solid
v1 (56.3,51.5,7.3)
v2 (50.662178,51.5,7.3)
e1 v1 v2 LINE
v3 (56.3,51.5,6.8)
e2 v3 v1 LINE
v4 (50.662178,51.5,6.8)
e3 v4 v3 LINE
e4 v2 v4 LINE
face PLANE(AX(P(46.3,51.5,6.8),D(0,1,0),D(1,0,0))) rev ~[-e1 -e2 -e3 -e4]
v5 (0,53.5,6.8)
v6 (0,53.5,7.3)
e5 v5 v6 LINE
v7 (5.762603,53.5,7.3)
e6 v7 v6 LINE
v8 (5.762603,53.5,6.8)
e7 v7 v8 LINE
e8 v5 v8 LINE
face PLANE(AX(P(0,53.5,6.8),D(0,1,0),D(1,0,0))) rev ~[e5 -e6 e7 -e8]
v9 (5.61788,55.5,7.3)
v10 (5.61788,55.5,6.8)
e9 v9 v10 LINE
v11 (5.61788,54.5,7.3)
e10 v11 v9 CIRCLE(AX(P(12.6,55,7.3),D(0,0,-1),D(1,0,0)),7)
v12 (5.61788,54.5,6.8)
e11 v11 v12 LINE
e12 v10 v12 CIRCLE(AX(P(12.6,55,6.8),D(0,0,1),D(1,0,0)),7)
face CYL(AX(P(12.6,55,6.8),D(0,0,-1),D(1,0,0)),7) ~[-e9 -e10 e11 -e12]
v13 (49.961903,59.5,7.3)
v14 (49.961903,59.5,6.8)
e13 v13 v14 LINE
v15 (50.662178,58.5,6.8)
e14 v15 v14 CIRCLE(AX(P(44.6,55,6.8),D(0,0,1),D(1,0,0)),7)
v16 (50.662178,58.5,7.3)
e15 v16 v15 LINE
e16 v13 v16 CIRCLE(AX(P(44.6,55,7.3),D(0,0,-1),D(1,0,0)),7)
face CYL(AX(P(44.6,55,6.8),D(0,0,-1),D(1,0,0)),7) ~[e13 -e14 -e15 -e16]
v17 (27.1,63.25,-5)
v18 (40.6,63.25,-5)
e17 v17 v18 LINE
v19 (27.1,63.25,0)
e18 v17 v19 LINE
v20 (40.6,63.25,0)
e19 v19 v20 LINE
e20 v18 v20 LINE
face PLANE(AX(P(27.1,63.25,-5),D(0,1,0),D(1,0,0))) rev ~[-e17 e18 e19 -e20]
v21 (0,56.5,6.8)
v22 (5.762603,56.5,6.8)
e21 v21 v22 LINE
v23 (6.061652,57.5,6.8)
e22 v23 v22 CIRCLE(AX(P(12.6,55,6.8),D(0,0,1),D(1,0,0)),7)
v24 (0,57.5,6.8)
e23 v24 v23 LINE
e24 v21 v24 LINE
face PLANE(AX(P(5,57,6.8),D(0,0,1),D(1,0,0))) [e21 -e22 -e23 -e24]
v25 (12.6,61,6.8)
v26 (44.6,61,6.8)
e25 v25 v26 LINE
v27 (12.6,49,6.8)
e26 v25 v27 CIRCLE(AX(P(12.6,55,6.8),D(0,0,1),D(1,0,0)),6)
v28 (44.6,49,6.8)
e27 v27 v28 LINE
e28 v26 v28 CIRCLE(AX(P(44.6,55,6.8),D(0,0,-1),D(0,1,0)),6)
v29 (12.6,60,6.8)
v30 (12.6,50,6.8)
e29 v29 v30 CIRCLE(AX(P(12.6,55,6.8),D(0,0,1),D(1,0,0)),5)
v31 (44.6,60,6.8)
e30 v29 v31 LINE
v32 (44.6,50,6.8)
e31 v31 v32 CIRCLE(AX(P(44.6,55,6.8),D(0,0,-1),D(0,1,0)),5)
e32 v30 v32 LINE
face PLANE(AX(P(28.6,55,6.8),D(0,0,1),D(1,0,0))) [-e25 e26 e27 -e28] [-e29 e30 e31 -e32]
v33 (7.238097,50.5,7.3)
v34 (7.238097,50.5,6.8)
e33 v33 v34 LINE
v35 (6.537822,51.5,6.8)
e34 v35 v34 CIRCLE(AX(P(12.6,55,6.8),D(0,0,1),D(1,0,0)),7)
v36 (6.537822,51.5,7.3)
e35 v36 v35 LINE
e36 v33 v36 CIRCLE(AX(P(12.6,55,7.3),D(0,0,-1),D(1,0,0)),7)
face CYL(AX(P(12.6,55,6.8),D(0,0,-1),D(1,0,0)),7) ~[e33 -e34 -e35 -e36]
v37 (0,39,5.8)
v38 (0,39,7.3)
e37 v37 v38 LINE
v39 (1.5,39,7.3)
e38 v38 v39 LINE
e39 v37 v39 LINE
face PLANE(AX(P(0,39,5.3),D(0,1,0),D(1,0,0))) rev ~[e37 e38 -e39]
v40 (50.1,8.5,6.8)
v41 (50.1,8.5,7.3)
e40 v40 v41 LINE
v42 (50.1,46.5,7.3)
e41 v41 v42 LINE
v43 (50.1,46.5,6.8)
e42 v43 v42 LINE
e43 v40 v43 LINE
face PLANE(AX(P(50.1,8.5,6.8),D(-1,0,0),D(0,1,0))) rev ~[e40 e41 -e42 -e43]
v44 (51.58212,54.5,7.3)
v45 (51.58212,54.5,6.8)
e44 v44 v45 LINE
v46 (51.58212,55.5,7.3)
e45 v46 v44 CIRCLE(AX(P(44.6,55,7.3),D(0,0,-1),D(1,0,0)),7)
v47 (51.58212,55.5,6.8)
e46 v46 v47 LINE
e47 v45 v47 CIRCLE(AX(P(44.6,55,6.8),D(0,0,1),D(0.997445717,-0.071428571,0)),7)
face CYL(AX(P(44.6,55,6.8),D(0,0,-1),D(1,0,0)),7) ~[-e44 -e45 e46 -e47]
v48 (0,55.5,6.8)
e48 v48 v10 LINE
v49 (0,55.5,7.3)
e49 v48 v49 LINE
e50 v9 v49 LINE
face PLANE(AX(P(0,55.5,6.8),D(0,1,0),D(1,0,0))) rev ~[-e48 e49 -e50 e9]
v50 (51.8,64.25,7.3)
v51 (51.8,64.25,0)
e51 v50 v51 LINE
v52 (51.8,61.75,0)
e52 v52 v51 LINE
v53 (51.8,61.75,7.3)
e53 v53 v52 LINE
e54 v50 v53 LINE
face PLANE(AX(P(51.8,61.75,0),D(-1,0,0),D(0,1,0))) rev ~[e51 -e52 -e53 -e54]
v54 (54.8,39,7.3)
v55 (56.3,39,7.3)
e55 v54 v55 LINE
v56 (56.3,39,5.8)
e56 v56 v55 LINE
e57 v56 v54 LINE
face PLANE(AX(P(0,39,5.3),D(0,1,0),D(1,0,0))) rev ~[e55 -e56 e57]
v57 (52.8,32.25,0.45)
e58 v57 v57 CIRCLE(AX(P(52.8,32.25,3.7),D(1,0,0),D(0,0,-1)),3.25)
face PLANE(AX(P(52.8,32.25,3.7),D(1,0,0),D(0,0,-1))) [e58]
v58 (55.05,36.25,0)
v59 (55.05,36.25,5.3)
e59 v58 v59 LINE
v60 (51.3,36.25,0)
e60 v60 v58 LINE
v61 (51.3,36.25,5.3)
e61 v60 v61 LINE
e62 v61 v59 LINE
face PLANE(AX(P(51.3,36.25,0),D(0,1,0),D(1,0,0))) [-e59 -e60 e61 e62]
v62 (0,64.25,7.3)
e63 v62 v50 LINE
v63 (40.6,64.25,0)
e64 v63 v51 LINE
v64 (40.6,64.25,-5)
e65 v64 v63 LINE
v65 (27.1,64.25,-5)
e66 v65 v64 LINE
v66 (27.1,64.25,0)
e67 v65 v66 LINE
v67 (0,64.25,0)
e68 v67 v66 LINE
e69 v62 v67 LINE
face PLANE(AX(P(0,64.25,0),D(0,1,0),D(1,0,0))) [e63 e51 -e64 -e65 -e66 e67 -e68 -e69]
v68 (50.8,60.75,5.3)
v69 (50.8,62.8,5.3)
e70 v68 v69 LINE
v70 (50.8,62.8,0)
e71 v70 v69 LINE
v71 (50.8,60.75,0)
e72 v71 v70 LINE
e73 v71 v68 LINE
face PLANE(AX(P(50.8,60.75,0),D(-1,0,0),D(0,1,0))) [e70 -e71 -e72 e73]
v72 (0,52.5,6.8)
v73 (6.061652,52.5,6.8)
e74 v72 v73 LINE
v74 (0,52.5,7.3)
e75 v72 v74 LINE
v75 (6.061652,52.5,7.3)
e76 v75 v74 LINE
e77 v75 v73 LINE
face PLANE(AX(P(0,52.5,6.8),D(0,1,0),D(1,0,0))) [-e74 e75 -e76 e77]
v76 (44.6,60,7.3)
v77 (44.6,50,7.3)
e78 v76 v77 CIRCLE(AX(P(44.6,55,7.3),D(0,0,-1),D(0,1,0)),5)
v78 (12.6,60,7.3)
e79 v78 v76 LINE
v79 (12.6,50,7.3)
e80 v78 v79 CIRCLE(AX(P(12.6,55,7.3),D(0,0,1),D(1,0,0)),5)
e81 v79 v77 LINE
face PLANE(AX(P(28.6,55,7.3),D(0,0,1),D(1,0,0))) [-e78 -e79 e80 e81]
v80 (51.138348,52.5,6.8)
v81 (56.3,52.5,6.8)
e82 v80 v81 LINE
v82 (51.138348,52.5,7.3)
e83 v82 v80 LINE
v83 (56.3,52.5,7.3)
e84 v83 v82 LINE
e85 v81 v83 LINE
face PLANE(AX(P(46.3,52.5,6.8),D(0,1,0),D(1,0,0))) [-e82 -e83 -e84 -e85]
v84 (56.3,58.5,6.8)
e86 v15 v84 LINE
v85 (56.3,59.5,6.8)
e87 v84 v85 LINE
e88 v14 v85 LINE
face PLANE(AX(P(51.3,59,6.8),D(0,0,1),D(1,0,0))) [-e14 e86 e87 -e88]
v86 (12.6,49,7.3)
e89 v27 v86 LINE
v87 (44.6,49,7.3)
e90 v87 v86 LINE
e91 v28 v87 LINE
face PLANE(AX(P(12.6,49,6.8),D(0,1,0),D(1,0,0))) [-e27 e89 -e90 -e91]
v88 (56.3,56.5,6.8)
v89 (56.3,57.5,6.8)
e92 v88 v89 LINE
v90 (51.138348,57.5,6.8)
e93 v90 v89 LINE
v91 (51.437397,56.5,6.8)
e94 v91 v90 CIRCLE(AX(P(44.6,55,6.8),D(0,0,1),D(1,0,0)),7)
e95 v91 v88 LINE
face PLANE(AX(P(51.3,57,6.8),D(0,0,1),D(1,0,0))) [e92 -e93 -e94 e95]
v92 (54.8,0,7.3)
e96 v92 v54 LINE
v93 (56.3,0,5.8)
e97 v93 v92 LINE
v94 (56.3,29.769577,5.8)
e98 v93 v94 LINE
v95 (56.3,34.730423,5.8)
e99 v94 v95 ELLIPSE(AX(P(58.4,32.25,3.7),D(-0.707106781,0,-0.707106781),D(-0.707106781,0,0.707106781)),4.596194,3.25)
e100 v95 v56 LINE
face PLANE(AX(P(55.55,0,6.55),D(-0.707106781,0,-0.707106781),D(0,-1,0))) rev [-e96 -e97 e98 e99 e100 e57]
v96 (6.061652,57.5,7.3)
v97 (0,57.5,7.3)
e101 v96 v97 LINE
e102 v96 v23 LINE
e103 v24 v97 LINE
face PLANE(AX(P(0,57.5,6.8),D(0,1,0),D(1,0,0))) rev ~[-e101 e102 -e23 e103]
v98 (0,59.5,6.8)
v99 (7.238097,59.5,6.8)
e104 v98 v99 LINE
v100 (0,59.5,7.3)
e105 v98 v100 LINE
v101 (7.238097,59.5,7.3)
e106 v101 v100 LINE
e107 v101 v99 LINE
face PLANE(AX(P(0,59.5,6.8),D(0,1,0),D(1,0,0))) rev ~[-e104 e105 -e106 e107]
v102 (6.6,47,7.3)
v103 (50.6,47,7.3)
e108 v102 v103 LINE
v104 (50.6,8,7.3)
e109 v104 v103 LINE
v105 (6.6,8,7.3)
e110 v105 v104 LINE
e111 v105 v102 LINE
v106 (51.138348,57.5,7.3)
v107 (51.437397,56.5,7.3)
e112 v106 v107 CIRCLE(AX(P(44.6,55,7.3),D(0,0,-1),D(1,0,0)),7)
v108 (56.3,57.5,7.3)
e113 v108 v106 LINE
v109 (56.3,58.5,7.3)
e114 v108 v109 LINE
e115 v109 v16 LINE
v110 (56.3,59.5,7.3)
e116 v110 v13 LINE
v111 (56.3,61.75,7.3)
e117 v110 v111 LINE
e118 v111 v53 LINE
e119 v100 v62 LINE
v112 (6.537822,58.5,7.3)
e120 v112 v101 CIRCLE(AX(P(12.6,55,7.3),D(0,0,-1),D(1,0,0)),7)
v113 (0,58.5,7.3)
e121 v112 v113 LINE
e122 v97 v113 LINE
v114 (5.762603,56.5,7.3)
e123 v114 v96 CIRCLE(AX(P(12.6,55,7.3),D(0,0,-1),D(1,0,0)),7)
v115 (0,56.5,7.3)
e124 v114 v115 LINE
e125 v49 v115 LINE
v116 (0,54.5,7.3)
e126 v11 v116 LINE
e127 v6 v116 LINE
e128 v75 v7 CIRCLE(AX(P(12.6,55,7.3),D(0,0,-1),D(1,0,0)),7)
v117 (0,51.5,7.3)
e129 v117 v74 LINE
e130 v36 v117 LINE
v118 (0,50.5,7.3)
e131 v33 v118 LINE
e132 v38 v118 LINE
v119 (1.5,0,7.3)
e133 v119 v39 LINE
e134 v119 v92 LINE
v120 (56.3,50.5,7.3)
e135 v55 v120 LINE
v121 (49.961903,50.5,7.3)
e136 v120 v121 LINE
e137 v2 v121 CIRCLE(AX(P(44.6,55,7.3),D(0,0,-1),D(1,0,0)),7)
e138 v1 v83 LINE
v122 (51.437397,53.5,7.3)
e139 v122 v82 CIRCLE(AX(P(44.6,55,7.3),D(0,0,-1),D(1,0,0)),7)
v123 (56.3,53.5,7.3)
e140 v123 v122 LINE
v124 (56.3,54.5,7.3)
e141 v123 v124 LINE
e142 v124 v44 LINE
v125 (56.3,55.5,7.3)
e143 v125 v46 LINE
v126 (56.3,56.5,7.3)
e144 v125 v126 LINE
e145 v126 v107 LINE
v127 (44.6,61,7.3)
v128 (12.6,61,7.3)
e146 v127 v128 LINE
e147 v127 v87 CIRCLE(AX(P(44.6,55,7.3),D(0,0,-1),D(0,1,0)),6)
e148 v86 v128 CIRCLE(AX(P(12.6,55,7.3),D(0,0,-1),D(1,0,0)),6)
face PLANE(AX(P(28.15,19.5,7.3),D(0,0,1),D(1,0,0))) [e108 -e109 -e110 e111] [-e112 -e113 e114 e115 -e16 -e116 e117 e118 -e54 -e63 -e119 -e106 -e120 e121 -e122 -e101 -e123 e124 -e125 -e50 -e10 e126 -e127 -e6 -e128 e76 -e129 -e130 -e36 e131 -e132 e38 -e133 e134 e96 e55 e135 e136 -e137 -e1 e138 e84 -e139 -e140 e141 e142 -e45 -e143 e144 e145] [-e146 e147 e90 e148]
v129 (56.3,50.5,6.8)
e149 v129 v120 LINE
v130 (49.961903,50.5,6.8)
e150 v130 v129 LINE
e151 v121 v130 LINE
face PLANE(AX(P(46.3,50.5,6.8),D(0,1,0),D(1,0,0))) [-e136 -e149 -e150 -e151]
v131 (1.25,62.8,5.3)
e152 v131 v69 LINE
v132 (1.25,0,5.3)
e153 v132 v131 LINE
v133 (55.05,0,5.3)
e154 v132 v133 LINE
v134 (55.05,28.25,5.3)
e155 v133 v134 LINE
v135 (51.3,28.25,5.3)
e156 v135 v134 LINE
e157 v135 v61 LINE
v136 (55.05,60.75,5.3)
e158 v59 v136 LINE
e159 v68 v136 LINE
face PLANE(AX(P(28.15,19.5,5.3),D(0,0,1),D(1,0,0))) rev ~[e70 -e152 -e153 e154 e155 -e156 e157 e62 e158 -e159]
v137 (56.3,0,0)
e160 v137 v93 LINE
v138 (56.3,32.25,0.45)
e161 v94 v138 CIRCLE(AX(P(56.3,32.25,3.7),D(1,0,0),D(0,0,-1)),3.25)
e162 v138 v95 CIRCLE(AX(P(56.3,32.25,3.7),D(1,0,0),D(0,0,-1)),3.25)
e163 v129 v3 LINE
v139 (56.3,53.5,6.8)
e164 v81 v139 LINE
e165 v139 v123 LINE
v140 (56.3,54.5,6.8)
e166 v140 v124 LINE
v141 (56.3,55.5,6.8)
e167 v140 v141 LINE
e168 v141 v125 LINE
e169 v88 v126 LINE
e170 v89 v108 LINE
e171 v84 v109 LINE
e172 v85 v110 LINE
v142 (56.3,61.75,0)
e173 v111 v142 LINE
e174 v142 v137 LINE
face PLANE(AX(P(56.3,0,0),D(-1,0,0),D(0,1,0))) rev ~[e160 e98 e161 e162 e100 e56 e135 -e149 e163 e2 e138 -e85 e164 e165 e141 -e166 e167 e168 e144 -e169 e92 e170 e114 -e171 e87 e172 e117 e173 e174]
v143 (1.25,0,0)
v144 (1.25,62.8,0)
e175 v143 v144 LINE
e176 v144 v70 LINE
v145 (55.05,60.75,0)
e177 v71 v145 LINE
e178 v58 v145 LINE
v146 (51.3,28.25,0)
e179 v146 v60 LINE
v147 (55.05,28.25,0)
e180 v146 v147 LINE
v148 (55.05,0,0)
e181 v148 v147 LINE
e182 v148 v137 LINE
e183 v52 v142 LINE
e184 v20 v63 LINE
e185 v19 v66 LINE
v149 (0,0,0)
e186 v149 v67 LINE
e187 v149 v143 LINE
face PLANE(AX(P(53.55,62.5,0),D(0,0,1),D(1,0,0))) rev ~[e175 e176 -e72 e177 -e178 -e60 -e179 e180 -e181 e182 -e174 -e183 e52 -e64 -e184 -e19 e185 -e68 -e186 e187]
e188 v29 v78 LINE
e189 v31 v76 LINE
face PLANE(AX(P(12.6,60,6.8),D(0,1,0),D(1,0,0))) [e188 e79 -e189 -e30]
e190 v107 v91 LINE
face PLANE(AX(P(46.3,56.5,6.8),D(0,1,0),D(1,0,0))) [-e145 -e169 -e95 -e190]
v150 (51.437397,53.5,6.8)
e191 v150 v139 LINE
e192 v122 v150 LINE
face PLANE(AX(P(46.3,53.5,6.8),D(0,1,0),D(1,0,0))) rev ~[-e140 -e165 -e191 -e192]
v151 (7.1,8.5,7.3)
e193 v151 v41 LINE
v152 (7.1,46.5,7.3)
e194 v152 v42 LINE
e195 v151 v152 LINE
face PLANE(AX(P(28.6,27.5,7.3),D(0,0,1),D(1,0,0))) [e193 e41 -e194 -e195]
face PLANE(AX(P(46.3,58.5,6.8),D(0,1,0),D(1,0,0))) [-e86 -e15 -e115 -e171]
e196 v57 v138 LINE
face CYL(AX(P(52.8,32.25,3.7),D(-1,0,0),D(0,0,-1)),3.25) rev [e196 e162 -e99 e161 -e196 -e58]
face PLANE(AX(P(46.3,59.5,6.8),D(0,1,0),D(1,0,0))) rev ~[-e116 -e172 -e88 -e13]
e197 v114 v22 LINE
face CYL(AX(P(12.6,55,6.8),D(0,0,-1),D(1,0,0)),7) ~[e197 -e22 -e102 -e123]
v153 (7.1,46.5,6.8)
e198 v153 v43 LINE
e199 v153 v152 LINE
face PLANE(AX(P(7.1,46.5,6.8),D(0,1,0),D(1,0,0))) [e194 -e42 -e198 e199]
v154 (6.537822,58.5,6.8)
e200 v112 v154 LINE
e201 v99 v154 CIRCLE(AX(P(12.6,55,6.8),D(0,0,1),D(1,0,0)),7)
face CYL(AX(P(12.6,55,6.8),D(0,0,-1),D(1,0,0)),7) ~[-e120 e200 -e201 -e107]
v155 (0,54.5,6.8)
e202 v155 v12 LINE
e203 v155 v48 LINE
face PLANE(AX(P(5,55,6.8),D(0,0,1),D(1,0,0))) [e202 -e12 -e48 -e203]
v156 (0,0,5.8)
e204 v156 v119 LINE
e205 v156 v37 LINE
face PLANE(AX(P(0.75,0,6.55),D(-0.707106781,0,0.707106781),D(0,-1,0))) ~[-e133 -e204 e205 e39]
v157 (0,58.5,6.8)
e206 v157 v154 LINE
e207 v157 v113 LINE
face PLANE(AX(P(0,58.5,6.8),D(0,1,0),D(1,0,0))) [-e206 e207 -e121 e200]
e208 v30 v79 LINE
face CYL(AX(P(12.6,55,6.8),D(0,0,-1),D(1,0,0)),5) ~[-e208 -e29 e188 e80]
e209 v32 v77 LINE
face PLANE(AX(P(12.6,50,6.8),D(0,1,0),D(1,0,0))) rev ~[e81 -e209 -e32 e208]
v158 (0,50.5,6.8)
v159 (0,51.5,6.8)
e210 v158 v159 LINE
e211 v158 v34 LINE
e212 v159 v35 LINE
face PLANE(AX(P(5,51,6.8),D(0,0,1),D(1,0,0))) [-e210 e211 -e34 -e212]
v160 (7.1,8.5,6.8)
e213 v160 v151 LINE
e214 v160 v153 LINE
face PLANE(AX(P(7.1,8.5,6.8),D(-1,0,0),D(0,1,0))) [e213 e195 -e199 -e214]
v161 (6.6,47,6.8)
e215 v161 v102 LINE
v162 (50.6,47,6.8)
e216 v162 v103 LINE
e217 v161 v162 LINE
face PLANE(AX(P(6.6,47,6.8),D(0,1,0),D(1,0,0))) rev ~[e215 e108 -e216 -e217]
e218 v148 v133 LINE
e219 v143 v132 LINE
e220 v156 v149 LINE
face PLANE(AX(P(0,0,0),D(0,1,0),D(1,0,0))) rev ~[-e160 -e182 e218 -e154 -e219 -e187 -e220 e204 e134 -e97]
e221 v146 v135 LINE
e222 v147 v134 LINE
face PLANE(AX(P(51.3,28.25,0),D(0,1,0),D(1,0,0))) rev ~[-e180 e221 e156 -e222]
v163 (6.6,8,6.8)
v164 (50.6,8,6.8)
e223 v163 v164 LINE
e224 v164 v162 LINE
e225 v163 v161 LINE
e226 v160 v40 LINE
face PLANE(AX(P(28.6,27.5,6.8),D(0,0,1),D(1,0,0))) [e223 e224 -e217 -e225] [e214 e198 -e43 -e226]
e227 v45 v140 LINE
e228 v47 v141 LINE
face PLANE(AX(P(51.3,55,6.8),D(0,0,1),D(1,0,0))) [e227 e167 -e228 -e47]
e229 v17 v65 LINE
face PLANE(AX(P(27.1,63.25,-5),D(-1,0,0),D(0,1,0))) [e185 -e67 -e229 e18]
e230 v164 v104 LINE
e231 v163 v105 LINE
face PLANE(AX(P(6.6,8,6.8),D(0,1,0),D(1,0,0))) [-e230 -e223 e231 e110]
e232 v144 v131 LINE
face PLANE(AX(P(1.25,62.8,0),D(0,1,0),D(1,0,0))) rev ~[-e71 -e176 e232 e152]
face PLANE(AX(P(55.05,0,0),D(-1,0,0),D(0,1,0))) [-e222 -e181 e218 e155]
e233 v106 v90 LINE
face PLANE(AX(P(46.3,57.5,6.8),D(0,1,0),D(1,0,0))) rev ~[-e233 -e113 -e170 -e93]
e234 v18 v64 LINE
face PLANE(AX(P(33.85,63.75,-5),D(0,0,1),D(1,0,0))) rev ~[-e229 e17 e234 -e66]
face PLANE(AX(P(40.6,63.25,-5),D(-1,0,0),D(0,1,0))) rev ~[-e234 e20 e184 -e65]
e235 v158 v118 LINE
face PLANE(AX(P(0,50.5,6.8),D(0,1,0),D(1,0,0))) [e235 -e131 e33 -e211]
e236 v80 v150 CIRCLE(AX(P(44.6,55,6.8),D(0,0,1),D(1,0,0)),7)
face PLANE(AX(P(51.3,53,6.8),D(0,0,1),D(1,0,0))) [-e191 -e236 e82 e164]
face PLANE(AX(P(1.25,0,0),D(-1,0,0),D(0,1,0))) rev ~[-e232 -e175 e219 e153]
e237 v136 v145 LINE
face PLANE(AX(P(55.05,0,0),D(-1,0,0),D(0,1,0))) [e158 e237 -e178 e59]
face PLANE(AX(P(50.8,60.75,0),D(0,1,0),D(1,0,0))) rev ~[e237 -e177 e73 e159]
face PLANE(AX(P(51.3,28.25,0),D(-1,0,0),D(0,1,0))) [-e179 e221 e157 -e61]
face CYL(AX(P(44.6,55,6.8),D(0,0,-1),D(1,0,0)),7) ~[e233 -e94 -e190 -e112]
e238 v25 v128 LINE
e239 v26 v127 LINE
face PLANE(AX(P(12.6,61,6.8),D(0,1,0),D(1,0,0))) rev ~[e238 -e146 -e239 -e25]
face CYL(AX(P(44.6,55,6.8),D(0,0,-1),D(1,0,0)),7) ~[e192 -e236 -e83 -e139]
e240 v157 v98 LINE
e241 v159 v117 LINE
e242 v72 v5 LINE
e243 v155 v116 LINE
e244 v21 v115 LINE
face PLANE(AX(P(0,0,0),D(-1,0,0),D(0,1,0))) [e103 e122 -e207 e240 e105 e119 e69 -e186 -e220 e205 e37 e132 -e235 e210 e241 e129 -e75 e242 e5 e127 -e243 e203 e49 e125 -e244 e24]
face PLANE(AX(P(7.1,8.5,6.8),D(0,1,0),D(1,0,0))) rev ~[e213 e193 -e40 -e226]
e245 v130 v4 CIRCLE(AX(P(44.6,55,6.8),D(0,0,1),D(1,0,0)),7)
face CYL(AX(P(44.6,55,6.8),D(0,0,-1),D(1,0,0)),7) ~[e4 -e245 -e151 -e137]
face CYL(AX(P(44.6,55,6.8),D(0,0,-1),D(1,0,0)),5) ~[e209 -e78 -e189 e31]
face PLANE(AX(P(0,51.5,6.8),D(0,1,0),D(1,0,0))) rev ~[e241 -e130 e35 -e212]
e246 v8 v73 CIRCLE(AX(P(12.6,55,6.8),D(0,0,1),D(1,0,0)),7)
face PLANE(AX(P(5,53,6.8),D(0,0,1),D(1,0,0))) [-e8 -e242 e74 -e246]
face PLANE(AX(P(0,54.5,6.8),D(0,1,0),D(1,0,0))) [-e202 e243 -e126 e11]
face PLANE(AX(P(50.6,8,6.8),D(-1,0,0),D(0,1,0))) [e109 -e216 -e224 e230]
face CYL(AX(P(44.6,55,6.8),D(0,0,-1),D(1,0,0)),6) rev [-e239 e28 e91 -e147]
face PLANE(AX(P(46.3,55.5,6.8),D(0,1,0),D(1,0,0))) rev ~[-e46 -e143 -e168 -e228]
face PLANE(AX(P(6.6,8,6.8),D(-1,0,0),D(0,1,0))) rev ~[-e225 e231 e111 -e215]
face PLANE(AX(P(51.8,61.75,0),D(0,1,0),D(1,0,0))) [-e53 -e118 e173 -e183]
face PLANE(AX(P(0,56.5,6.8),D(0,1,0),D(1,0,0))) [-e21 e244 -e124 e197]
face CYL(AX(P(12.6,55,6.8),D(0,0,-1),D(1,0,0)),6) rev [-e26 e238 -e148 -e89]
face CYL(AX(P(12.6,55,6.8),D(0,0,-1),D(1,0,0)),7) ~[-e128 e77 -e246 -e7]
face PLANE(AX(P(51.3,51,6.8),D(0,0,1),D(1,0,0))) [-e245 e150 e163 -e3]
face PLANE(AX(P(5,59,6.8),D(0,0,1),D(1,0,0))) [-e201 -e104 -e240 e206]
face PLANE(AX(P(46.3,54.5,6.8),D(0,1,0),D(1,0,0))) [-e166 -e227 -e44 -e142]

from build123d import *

# Parameters (mm, degrees)
CYLINDER_R        = 3.25
CYLINDER_DEPTH    = 3.5
BOX017_W          = 43
BOX017_H          = 38
BOX017_DEPTH      = 0.5
BOX057_W          = 4
BOX057_H          = 8
BOX057_DEPTH      = 5.3
BOX001_W          = 4.5
BOX001_H          = 2.5
BOX001_DEPTH      = 5.3
BOX003_W          = 5.5
BOX003_H          = 3.5
BOX003_DEPTH      = 5.3
BOX002_W          = 53.8
BOX002_H          = 62.8
BOX002_DEPTH      = 5.3
BOX_W             = 56.3
BOX_H             = 64.25
BOX_DEPTH         = 5.3
BOX056_W          = 13.5
BOX056_H          = 1
BOX056_DEPTH      = 5
BOX041_W          = 44
BOX041_H          = 39
BOX041_DEPTH      = 0.5
BOX008_W          = 56.3
BOX008_H          = 39
BOX008_DEPTH      = 2
CHAMFER_SIZE      = 1.5
CYLINDER011_R     = 5
CYLINDER011_DEPTH = 0.5
BOX055_W          = 32
BOX055_H          = 10
BOX055_DEPTH      = 0.5
CYLINDER010_R     = 5
CYLINDER010_DEPTH = 0.5
BOX044_W          = 32
BOX044_H          = 12
BOX044_DEPTH      = 1
CYLINDER007_R     = 6
CYLINDER007_DEPTH = 1
CYLINDER006_R     = 6
CYLINDER006_DEPTH = 1
CYLINDER008_R     = 7
CYLINDER008_DEPTH = 1
BOX047_W          = 10
BOX047_H          = 1
BOX047_DEPTH      = 1
BOX049_W          = 10
BOX049_H          = 1
BOX049_DEPTH      = 1
BOX048_W          = 10
BOX048_H          = 1
BOX048_DEPTH      = 1
BOX046_W          = 10
BOX046_H          = 1
BOX046_DEPTH      = 1
BOX045_W          = 10
BOX045_H          = 1
BOX045_DEPTH      = 1
CYLINDER009_R     = 7
CYLINDER009_DEPTH = 1
BOX051_W          = 10
BOX051_H          = 1
BOX051_DEPTH      = 1
BOX054_W          = 10
BOX054_H          = 1
BOX054_DEPTH      = 1
BOX053_W          = 10
BOX053_H          = 1
BOX053_DEPTH      = 1
BOX052_W          = 10
BOX052_H          = 1
BOX052_DEPTH      = 1
BOX050_W          = 10
BOX050_H          = 1
BOX050_DEPTH      = 1
BOX010_W          = 10
BOX010_H          = 10
BOX010_DEPTH      = 10
BOX007_W          = 56.3
BOX007_H          = 25.25
BOX007_DEPTH      = 2


with BuildPart() as cylinder_magnet:
    # Cylinder → Cylinder (new body)
    with BuildSketch(Plane(origin=(52.8, 32.25, 3.7), x_dir=(0, 0, -1), z_dir=(1, 0, 0))):
        Circle(CYLINDER_R)
    extrude(amount=CYLINDER_DEPTH)


with BuildPart() as cube_game_lable_inner:
    # Box017 → Box017 (new body)
    with BuildSketch(Plane(origin=(7.1, 8.5, 6.8), x_dir=(1, 0, 0), z_dir=(0, 0, 1))):
        with Locations((21.5, 19)):
            Rectangle(BOX017_W, BOX017_H)
    extrude(amount=BOX017_DEPTH)


with BuildPart() as cube_magnet_black:
    # Box057 → Box057 (new body)
    with BuildSketch(Plane(origin=(51.3, 28.25, 0), x_dir=(1, 0, 0), z_dir=(0, 0, 1))):
        with Locations((2, 4)):
            Rectangle(BOX057_W, BOX057_H)
    extrude(amount=BOX057_DEPTH)


with BuildPart() as cube_corner_inner:
    # Box001 → Box001 (new body)
    with BuildSketch(Plane(origin=(51.8, 61.75, 0), x_dir=(1, 0, 0), z_dir=(0, 0, 1))):
        with Locations((2.25, 1.25)):
            Rectangle(BOX001_W, BOX001_H)
    extrude(amount=BOX001_DEPTH)


with BuildPart() as cube_corner_outer:
    # Box003 → Box003 (new body)
    with BuildSketch(Plane(origin=(50.8, 60.75, 0), x_dir=(1, 0, 0), z_dir=(0, 0, 1))):
        with Locations((2.75, 1.75)):
            Rectangle(BOX003_W, BOX003_H)
    extrude(amount=BOX003_DEPTH)


with BuildPart() as cube_inner_base:
    # Box002 → Box002 (new body)
    with BuildSketch(Plane(origin=(1.25, 0, 0), x_dir=(1, 0, 0), z_dir=(0, 0, 1))):
        with Locations((26.9, 31.4)):
            Rectangle(BOX002_W, BOX002_H)
    extrude(amount=BOX002_DEPTH)


with BuildPart() as cut024:
    # Box → Box (new body)
    with BuildSketch(Plane.XY):
        with Locations((28.15, 32.125)):
            Rectangle(BOX_W, BOX_H)
    extrude(amount=BOX_DEPTH)

    # Cut: cut Cube(inner_base)
    add(cube_inner_base.part, mode=Mode.SUBTRACT)

    # Fusion: union Cube(corner_outer)
    add(cube_corner_outer.part)

    # Cut024: cut Cube(corner_inner)
    add(cube_corner_inner.part, mode=Mode.SUBTRACT)


with BuildPart() as cube_sd_card_cover:
    # Box056 → Box056 (new body)
    with BuildSketch(Plane(origin=(27.1, 63.25, -5), x_dir=(1, 0, 0), z_dir=(0, 0, 1))):
        with Locations((6.75, 0.5)):
            Rectangle(BOX056_W, BOX056_H)
    extrude(amount=BOX056_DEPTH)


with BuildPart() as cube_game_lable_outer:
    # Box041 → Box041 (new body)
    with BuildSketch(Plane(origin=(6.6, 8, 6.8), x_dir=(1, 0, 0), z_dir=(0, 0, 1))):
        with Locations((22, 19.5)):
            Rectangle(BOX041_W, BOX041_H)
    extrude(amount=BOX041_DEPTH)


with BuildPart() as chamfer_body:
    # Box008 → Box008 (new body)
    with BuildSketch(Plane.XY.offset(5.3)):
        with Locations((28.15, 19.5)):
            Rectangle(BOX008_W, BOX008_H)
    extrude(amount=BOX008_DEPTH)

    # Chamfer
    chamfer_edges = [chamfer_body.edges().sort_by_distance(p)[0] for p in [
        (0, 19.5, 7.3),
        (56.3, 19.5, 7.3),
    ]]
    chamfer(chamfer_edges, length=CHAMFER_SIZE)


with BuildPart() as cylinder002_right_nintendo_inner:
    # Cylinder011 → Cylinder011 (new body)
    with BuildSketch(Plane(origin=(44.6, 55, 6.8), x_dir=(1, 0, 0), z_dir=(0, 0, 1))):
        Circle(CYLINDER011_R)
    extrude(amount=CYLINDER011_DEPTH)


with BuildPart() as cube_middle_nintendo_inner:
    # Box055 → Box055 (new body)
    with BuildSketch(Plane(origin=(12.6, 50, 6.8), x_dir=(1, 0, 0), z_dir=(0, 0, 1))):
        with Locations((16, 5)):
            Rectangle(BOX055_W, BOX055_H)
    extrude(amount=BOX055_DEPTH)


with BuildPart() as fusion033:
    # Cylinder010 → Cylinder010 (new body)
    with BuildSketch(Plane(origin=(12.6, 55, 6.8), x_dir=(1, 0, 0), z_dir=(0, 0, 1))):
        Circle(CYLINDER010_R)
    extrude(amount=CYLINDER010_DEPTH)

    # Fusion033: union Cylinder002(right_nintendo_inner), Cube(middle_nintendo_inner)
    add(cylinder002_right_nintendo_inner.part)
    add(cube_middle_nintendo_inner.part)


with BuildPart() as cube_middle_nintendo_outer:
    # Box044 → Box044 (new body)
    with BuildSketch(Plane(origin=(12.6, 49, 6.8), x_dir=(1, 0, 0), z_dir=(0, 0, 1))):
        with Locations((16, 6)):
            Rectangle(BOX044_W, BOX044_H)
    extrude(amount=BOX044_DEPTH)


with BuildPart() as cylinder002_right_nintendo_outer:
    # Cylinder007 → Cylinder007 (new body)
    with BuildSketch(Plane(origin=(44.6, 55, 6.8), x_dir=(1, 0, 0), z_dir=(0, 0, 1))):
        Circle(CYLINDER007_R)
    extrude(amount=CYLINDER007_DEPTH)


with BuildPart() as cylinder001_left_nintendo_outer:
    # Cylinder006 → Cylinder006 (new body)
    with BuildSketch(Plane(origin=(12.6, 55, 6.8), x_dir=(1, 0, 0), z_dir=(0, 0, 1))):
        Circle(CYLINDER006_R)
    extrude(amount=CYLINDER006_DEPTH)


with BuildPart() as cylinder001_left_nintendo_fin_cut:
    # Cylinder008 → Cylinder008 (new body)
    with BuildSketch(Plane(origin=(12.6, 55, 6.8), x_dir=(1, 0, 0), z_dir=(0, 0, 1))):
        Circle(CYLINDER008_R)
    extrude(amount=CYLINDER008_DEPTH)


with BuildPart() as box047:
    # Box047 → Box047 (new body)
    with BuildSketch(Plane(origin=(0, 54.5, 6.8), x_dir=(1, 0, 0), z_dir=(0, 0, 1))):
        with Locations((5, 0.5)):
            Rectangle(BOX047_W, BOX047_H)
    extrude(amount=BOX047_DEPTH)


with BuildPart() as box049:
    # Box049 → Box049 (new body)
    with BuildSketch(Plane(origin=(0, 58.5, 6.8), x_dir=(1, 0, 0), z_dir=(0, 0, 1))):
        with Locations((5, 0.5)):
            Rectangle(BOX049_W, BOX049_H)
    extrude(amount=BOX049_DEPTH)


with BuildPart() as box048:
    # Box048 → Box048 (new body)
    with BuildSketch(Plane(origin=(0, 56.5, 6.8), x_dir=(1, 0, 0), z_dir=(0, 0, 1))):
        with Locations((5, 0.5)):
            Rectangle(BOX048_W, BOX048_H)
    extrude(amount=BOX048_DEPTH)


with BuildPart() as box046:
    # Box046 → Box046 (new body)
    with BuildSketch(Plane(origin=(0, 52.5, 6.8), x_dir=(1, 0, 0), z_dir=(0, 0, 1))):
        with Locations((5, 0.5)):
            Rectangle(BOX046_W, BOX046_H)
    extrude(amount=BOX046_DEPTH)


with BuildPart() as cut009:
    # Box045 → Box045 (new body)
    with BuildSketch(Plane(origin=(0, 50.5, 6.8), x_dir=(1, 0, 0), z_dir=(0, 0, 1))):
        with Locations((5, 0.5)):
            Rectangle(BOX045_W, BOX045_H)
    extrude(amount=BOX045_DEPTH)

    # Fusion004: union Box047, Box049, Box048, Box046
    add(box047.part)
    add(box049.part)
    add(box048.part)
    add(box046.part)

    # Cut009: cut Cylinder001(left_nintendo_fin_cut)
    add(cylinder001_left_nintendo_fin_cut.part, mode=Mode.SUBTRACT)


with BuildPart() as cylinder002_right_nintendo_fin_cut:
    # Cylinder009 → Cylinder009 (new body)
    with BuildSketch(Plane(origin=(44.6, 55, 6.8), x_dir=(1, 0, 0), z_dir=(0, 0, 1))):
        Circle(CYLINDER009_R)
    extrude(amount=CYLINDER009_DEPTH)


with BuildPart() as box051:
    # Box051 → Box051 (new body)
    with BuildSketch(Plane(origin=(46.3, 54.5, 6.8), x_dir=(1, 0, 0), z_dir=(0, 0, 1))):
        with Locations((5, 0.5)):
            Rectangle(BOX051_W, BOX051_H)
    extrude(amount=BOX051_DEPTH)


with BuildPart() as box054:
    # Box054 → Box054 (new body)
    with BuildSketch(Plane(origin=(46.3, 52.5, 6.8), x_dir=(1, 0, 0), z_dir=(0, 0, 1))):
        with Locations((5, 0.5)):
            Rectangle(BOX054_W, BOX054_H)
    extrude(amount=BOX054_DEPTH)


with BuildPart() as box053:
    # Box053 → Box053 (new body)
    with BuildSketch(Plane(origin=(46.3, 56.5, 6.8), x_dir=(1, 0, 0), z_dir=(0, 0, 1))):
        with Locations((5, 0.5)):
            Rectangle(BOX053_W, BOX053_H)
    extrude(amount=BOX053_DEPTH)


with BuildPart() as box052:
    # Box052 → Box052 (new body)
    with BuildSketch(Plane(origin=(46.3, 58.5, 6.8), x_dir=(1, 0, 0), z_dir=(0, 0, 1))):
        with Locations((5, 0.5)):
            Rectangle(BOX052_W, BOX052_H)
    extrude(amount=BOX052_DEPTH)


with BuildPart() as cut008:
    # Box050 → Box050 (new body)
    with BuildSketch(Plane(origin=(46.3, 50.5, 6.8), x_dir=(1, 0, 0), z_dir=(0, 0, 1))):
        with Locations((5, 0.5)):
            Rectangle(BOX050_W, BOX050_H)
    extrude(amount=BOX050_DEPTH)

    # Fusion003: union Box051, Box054, Box053, Box052
    add(box051.part)
    add(box054.part)
    add(box053.part)
    add(box052.part)

    # Cut008: cut Cylinder002(right_nintendo_fin_cut)
    add(cylinder002_right_nintendo_fin_cut.part, mode=Mode.SUBTRACT)


with BuildPart() as cube_top_corner_cut:
    # Box010 → Box010 (new body)
    with BuildSketch(Plane(origin=(51.8, 61.75, 0), x_dir=(1, 0, 0), z_dir=(0, 0, 1))):
        with Locations((5, 5)):
            Rectangle(BOX010_W, BOX010_H)
    extrude(amount=BOX010_DEPTH)


with BuildPart() as cut026:
    # Box007 → Box007 (new body)
    with BuildSketch(Plane(origin=(0, 39, 5.3), x_dir=(1, 0, 0), z_dir=(0, 0, 1))):
        with Locations((28.15, 12.625)):
            Rectangle(BOX007_W, BOX007_H)
    extrude(amount=BOX007_DEPTH)

    # Cut006: cut Cube(top_corner_cut)
    add(cube_top_corner_cut.part, mode=Mode.SUBTRACT)

    # Cut010: cut Cut008
    add(cut008.part, mode=Mode.SUBTRACT)

    # Cut011: cut Cut009
    add(cut009.part, mode=Mode.SUBTRACT)

    # Cut012: cut Cylinder001(left_nintendo_outer)
    add(cylinder001_left_nintendo_outer.part, mode=Mode.SUBTRACT)

    # Cut013: cut Cylinder002(right_nintendo_outer)
    add(cylinder002_right_nintendo_outer.part, mode=Mode.SUBTRACT)

    # Cut014: cut Cube(middle_nintendo_outer)
    add(cube_middle_nintendo_outer.part, mode=Mode.SUBTRACT)

    # Fusion034: union Chamfer body, Fusion033
    add(chamfer_body.part)
    add(fusion033.part)

    # Cut025: cut Cube(game_lable_outer)
    add(cube_game_lable_outer.part, mode=Mode.SUBTRACT)

    # Fusion035: union Cube(game_lable_inner), Cube(magnet_black), Cut024, Cube(sd_card_cover)
    add(cube_game_lable_inner.part)
    add(cube_magnet_black.part)
    add(cut024.part)
    add(cube_sd_card_cover.part)

    # Cut026: cut Cylinder(magnet)
    add(cylinder_magnet.part, mode=Mode.SUBTRACT)


solid = cut026.part
